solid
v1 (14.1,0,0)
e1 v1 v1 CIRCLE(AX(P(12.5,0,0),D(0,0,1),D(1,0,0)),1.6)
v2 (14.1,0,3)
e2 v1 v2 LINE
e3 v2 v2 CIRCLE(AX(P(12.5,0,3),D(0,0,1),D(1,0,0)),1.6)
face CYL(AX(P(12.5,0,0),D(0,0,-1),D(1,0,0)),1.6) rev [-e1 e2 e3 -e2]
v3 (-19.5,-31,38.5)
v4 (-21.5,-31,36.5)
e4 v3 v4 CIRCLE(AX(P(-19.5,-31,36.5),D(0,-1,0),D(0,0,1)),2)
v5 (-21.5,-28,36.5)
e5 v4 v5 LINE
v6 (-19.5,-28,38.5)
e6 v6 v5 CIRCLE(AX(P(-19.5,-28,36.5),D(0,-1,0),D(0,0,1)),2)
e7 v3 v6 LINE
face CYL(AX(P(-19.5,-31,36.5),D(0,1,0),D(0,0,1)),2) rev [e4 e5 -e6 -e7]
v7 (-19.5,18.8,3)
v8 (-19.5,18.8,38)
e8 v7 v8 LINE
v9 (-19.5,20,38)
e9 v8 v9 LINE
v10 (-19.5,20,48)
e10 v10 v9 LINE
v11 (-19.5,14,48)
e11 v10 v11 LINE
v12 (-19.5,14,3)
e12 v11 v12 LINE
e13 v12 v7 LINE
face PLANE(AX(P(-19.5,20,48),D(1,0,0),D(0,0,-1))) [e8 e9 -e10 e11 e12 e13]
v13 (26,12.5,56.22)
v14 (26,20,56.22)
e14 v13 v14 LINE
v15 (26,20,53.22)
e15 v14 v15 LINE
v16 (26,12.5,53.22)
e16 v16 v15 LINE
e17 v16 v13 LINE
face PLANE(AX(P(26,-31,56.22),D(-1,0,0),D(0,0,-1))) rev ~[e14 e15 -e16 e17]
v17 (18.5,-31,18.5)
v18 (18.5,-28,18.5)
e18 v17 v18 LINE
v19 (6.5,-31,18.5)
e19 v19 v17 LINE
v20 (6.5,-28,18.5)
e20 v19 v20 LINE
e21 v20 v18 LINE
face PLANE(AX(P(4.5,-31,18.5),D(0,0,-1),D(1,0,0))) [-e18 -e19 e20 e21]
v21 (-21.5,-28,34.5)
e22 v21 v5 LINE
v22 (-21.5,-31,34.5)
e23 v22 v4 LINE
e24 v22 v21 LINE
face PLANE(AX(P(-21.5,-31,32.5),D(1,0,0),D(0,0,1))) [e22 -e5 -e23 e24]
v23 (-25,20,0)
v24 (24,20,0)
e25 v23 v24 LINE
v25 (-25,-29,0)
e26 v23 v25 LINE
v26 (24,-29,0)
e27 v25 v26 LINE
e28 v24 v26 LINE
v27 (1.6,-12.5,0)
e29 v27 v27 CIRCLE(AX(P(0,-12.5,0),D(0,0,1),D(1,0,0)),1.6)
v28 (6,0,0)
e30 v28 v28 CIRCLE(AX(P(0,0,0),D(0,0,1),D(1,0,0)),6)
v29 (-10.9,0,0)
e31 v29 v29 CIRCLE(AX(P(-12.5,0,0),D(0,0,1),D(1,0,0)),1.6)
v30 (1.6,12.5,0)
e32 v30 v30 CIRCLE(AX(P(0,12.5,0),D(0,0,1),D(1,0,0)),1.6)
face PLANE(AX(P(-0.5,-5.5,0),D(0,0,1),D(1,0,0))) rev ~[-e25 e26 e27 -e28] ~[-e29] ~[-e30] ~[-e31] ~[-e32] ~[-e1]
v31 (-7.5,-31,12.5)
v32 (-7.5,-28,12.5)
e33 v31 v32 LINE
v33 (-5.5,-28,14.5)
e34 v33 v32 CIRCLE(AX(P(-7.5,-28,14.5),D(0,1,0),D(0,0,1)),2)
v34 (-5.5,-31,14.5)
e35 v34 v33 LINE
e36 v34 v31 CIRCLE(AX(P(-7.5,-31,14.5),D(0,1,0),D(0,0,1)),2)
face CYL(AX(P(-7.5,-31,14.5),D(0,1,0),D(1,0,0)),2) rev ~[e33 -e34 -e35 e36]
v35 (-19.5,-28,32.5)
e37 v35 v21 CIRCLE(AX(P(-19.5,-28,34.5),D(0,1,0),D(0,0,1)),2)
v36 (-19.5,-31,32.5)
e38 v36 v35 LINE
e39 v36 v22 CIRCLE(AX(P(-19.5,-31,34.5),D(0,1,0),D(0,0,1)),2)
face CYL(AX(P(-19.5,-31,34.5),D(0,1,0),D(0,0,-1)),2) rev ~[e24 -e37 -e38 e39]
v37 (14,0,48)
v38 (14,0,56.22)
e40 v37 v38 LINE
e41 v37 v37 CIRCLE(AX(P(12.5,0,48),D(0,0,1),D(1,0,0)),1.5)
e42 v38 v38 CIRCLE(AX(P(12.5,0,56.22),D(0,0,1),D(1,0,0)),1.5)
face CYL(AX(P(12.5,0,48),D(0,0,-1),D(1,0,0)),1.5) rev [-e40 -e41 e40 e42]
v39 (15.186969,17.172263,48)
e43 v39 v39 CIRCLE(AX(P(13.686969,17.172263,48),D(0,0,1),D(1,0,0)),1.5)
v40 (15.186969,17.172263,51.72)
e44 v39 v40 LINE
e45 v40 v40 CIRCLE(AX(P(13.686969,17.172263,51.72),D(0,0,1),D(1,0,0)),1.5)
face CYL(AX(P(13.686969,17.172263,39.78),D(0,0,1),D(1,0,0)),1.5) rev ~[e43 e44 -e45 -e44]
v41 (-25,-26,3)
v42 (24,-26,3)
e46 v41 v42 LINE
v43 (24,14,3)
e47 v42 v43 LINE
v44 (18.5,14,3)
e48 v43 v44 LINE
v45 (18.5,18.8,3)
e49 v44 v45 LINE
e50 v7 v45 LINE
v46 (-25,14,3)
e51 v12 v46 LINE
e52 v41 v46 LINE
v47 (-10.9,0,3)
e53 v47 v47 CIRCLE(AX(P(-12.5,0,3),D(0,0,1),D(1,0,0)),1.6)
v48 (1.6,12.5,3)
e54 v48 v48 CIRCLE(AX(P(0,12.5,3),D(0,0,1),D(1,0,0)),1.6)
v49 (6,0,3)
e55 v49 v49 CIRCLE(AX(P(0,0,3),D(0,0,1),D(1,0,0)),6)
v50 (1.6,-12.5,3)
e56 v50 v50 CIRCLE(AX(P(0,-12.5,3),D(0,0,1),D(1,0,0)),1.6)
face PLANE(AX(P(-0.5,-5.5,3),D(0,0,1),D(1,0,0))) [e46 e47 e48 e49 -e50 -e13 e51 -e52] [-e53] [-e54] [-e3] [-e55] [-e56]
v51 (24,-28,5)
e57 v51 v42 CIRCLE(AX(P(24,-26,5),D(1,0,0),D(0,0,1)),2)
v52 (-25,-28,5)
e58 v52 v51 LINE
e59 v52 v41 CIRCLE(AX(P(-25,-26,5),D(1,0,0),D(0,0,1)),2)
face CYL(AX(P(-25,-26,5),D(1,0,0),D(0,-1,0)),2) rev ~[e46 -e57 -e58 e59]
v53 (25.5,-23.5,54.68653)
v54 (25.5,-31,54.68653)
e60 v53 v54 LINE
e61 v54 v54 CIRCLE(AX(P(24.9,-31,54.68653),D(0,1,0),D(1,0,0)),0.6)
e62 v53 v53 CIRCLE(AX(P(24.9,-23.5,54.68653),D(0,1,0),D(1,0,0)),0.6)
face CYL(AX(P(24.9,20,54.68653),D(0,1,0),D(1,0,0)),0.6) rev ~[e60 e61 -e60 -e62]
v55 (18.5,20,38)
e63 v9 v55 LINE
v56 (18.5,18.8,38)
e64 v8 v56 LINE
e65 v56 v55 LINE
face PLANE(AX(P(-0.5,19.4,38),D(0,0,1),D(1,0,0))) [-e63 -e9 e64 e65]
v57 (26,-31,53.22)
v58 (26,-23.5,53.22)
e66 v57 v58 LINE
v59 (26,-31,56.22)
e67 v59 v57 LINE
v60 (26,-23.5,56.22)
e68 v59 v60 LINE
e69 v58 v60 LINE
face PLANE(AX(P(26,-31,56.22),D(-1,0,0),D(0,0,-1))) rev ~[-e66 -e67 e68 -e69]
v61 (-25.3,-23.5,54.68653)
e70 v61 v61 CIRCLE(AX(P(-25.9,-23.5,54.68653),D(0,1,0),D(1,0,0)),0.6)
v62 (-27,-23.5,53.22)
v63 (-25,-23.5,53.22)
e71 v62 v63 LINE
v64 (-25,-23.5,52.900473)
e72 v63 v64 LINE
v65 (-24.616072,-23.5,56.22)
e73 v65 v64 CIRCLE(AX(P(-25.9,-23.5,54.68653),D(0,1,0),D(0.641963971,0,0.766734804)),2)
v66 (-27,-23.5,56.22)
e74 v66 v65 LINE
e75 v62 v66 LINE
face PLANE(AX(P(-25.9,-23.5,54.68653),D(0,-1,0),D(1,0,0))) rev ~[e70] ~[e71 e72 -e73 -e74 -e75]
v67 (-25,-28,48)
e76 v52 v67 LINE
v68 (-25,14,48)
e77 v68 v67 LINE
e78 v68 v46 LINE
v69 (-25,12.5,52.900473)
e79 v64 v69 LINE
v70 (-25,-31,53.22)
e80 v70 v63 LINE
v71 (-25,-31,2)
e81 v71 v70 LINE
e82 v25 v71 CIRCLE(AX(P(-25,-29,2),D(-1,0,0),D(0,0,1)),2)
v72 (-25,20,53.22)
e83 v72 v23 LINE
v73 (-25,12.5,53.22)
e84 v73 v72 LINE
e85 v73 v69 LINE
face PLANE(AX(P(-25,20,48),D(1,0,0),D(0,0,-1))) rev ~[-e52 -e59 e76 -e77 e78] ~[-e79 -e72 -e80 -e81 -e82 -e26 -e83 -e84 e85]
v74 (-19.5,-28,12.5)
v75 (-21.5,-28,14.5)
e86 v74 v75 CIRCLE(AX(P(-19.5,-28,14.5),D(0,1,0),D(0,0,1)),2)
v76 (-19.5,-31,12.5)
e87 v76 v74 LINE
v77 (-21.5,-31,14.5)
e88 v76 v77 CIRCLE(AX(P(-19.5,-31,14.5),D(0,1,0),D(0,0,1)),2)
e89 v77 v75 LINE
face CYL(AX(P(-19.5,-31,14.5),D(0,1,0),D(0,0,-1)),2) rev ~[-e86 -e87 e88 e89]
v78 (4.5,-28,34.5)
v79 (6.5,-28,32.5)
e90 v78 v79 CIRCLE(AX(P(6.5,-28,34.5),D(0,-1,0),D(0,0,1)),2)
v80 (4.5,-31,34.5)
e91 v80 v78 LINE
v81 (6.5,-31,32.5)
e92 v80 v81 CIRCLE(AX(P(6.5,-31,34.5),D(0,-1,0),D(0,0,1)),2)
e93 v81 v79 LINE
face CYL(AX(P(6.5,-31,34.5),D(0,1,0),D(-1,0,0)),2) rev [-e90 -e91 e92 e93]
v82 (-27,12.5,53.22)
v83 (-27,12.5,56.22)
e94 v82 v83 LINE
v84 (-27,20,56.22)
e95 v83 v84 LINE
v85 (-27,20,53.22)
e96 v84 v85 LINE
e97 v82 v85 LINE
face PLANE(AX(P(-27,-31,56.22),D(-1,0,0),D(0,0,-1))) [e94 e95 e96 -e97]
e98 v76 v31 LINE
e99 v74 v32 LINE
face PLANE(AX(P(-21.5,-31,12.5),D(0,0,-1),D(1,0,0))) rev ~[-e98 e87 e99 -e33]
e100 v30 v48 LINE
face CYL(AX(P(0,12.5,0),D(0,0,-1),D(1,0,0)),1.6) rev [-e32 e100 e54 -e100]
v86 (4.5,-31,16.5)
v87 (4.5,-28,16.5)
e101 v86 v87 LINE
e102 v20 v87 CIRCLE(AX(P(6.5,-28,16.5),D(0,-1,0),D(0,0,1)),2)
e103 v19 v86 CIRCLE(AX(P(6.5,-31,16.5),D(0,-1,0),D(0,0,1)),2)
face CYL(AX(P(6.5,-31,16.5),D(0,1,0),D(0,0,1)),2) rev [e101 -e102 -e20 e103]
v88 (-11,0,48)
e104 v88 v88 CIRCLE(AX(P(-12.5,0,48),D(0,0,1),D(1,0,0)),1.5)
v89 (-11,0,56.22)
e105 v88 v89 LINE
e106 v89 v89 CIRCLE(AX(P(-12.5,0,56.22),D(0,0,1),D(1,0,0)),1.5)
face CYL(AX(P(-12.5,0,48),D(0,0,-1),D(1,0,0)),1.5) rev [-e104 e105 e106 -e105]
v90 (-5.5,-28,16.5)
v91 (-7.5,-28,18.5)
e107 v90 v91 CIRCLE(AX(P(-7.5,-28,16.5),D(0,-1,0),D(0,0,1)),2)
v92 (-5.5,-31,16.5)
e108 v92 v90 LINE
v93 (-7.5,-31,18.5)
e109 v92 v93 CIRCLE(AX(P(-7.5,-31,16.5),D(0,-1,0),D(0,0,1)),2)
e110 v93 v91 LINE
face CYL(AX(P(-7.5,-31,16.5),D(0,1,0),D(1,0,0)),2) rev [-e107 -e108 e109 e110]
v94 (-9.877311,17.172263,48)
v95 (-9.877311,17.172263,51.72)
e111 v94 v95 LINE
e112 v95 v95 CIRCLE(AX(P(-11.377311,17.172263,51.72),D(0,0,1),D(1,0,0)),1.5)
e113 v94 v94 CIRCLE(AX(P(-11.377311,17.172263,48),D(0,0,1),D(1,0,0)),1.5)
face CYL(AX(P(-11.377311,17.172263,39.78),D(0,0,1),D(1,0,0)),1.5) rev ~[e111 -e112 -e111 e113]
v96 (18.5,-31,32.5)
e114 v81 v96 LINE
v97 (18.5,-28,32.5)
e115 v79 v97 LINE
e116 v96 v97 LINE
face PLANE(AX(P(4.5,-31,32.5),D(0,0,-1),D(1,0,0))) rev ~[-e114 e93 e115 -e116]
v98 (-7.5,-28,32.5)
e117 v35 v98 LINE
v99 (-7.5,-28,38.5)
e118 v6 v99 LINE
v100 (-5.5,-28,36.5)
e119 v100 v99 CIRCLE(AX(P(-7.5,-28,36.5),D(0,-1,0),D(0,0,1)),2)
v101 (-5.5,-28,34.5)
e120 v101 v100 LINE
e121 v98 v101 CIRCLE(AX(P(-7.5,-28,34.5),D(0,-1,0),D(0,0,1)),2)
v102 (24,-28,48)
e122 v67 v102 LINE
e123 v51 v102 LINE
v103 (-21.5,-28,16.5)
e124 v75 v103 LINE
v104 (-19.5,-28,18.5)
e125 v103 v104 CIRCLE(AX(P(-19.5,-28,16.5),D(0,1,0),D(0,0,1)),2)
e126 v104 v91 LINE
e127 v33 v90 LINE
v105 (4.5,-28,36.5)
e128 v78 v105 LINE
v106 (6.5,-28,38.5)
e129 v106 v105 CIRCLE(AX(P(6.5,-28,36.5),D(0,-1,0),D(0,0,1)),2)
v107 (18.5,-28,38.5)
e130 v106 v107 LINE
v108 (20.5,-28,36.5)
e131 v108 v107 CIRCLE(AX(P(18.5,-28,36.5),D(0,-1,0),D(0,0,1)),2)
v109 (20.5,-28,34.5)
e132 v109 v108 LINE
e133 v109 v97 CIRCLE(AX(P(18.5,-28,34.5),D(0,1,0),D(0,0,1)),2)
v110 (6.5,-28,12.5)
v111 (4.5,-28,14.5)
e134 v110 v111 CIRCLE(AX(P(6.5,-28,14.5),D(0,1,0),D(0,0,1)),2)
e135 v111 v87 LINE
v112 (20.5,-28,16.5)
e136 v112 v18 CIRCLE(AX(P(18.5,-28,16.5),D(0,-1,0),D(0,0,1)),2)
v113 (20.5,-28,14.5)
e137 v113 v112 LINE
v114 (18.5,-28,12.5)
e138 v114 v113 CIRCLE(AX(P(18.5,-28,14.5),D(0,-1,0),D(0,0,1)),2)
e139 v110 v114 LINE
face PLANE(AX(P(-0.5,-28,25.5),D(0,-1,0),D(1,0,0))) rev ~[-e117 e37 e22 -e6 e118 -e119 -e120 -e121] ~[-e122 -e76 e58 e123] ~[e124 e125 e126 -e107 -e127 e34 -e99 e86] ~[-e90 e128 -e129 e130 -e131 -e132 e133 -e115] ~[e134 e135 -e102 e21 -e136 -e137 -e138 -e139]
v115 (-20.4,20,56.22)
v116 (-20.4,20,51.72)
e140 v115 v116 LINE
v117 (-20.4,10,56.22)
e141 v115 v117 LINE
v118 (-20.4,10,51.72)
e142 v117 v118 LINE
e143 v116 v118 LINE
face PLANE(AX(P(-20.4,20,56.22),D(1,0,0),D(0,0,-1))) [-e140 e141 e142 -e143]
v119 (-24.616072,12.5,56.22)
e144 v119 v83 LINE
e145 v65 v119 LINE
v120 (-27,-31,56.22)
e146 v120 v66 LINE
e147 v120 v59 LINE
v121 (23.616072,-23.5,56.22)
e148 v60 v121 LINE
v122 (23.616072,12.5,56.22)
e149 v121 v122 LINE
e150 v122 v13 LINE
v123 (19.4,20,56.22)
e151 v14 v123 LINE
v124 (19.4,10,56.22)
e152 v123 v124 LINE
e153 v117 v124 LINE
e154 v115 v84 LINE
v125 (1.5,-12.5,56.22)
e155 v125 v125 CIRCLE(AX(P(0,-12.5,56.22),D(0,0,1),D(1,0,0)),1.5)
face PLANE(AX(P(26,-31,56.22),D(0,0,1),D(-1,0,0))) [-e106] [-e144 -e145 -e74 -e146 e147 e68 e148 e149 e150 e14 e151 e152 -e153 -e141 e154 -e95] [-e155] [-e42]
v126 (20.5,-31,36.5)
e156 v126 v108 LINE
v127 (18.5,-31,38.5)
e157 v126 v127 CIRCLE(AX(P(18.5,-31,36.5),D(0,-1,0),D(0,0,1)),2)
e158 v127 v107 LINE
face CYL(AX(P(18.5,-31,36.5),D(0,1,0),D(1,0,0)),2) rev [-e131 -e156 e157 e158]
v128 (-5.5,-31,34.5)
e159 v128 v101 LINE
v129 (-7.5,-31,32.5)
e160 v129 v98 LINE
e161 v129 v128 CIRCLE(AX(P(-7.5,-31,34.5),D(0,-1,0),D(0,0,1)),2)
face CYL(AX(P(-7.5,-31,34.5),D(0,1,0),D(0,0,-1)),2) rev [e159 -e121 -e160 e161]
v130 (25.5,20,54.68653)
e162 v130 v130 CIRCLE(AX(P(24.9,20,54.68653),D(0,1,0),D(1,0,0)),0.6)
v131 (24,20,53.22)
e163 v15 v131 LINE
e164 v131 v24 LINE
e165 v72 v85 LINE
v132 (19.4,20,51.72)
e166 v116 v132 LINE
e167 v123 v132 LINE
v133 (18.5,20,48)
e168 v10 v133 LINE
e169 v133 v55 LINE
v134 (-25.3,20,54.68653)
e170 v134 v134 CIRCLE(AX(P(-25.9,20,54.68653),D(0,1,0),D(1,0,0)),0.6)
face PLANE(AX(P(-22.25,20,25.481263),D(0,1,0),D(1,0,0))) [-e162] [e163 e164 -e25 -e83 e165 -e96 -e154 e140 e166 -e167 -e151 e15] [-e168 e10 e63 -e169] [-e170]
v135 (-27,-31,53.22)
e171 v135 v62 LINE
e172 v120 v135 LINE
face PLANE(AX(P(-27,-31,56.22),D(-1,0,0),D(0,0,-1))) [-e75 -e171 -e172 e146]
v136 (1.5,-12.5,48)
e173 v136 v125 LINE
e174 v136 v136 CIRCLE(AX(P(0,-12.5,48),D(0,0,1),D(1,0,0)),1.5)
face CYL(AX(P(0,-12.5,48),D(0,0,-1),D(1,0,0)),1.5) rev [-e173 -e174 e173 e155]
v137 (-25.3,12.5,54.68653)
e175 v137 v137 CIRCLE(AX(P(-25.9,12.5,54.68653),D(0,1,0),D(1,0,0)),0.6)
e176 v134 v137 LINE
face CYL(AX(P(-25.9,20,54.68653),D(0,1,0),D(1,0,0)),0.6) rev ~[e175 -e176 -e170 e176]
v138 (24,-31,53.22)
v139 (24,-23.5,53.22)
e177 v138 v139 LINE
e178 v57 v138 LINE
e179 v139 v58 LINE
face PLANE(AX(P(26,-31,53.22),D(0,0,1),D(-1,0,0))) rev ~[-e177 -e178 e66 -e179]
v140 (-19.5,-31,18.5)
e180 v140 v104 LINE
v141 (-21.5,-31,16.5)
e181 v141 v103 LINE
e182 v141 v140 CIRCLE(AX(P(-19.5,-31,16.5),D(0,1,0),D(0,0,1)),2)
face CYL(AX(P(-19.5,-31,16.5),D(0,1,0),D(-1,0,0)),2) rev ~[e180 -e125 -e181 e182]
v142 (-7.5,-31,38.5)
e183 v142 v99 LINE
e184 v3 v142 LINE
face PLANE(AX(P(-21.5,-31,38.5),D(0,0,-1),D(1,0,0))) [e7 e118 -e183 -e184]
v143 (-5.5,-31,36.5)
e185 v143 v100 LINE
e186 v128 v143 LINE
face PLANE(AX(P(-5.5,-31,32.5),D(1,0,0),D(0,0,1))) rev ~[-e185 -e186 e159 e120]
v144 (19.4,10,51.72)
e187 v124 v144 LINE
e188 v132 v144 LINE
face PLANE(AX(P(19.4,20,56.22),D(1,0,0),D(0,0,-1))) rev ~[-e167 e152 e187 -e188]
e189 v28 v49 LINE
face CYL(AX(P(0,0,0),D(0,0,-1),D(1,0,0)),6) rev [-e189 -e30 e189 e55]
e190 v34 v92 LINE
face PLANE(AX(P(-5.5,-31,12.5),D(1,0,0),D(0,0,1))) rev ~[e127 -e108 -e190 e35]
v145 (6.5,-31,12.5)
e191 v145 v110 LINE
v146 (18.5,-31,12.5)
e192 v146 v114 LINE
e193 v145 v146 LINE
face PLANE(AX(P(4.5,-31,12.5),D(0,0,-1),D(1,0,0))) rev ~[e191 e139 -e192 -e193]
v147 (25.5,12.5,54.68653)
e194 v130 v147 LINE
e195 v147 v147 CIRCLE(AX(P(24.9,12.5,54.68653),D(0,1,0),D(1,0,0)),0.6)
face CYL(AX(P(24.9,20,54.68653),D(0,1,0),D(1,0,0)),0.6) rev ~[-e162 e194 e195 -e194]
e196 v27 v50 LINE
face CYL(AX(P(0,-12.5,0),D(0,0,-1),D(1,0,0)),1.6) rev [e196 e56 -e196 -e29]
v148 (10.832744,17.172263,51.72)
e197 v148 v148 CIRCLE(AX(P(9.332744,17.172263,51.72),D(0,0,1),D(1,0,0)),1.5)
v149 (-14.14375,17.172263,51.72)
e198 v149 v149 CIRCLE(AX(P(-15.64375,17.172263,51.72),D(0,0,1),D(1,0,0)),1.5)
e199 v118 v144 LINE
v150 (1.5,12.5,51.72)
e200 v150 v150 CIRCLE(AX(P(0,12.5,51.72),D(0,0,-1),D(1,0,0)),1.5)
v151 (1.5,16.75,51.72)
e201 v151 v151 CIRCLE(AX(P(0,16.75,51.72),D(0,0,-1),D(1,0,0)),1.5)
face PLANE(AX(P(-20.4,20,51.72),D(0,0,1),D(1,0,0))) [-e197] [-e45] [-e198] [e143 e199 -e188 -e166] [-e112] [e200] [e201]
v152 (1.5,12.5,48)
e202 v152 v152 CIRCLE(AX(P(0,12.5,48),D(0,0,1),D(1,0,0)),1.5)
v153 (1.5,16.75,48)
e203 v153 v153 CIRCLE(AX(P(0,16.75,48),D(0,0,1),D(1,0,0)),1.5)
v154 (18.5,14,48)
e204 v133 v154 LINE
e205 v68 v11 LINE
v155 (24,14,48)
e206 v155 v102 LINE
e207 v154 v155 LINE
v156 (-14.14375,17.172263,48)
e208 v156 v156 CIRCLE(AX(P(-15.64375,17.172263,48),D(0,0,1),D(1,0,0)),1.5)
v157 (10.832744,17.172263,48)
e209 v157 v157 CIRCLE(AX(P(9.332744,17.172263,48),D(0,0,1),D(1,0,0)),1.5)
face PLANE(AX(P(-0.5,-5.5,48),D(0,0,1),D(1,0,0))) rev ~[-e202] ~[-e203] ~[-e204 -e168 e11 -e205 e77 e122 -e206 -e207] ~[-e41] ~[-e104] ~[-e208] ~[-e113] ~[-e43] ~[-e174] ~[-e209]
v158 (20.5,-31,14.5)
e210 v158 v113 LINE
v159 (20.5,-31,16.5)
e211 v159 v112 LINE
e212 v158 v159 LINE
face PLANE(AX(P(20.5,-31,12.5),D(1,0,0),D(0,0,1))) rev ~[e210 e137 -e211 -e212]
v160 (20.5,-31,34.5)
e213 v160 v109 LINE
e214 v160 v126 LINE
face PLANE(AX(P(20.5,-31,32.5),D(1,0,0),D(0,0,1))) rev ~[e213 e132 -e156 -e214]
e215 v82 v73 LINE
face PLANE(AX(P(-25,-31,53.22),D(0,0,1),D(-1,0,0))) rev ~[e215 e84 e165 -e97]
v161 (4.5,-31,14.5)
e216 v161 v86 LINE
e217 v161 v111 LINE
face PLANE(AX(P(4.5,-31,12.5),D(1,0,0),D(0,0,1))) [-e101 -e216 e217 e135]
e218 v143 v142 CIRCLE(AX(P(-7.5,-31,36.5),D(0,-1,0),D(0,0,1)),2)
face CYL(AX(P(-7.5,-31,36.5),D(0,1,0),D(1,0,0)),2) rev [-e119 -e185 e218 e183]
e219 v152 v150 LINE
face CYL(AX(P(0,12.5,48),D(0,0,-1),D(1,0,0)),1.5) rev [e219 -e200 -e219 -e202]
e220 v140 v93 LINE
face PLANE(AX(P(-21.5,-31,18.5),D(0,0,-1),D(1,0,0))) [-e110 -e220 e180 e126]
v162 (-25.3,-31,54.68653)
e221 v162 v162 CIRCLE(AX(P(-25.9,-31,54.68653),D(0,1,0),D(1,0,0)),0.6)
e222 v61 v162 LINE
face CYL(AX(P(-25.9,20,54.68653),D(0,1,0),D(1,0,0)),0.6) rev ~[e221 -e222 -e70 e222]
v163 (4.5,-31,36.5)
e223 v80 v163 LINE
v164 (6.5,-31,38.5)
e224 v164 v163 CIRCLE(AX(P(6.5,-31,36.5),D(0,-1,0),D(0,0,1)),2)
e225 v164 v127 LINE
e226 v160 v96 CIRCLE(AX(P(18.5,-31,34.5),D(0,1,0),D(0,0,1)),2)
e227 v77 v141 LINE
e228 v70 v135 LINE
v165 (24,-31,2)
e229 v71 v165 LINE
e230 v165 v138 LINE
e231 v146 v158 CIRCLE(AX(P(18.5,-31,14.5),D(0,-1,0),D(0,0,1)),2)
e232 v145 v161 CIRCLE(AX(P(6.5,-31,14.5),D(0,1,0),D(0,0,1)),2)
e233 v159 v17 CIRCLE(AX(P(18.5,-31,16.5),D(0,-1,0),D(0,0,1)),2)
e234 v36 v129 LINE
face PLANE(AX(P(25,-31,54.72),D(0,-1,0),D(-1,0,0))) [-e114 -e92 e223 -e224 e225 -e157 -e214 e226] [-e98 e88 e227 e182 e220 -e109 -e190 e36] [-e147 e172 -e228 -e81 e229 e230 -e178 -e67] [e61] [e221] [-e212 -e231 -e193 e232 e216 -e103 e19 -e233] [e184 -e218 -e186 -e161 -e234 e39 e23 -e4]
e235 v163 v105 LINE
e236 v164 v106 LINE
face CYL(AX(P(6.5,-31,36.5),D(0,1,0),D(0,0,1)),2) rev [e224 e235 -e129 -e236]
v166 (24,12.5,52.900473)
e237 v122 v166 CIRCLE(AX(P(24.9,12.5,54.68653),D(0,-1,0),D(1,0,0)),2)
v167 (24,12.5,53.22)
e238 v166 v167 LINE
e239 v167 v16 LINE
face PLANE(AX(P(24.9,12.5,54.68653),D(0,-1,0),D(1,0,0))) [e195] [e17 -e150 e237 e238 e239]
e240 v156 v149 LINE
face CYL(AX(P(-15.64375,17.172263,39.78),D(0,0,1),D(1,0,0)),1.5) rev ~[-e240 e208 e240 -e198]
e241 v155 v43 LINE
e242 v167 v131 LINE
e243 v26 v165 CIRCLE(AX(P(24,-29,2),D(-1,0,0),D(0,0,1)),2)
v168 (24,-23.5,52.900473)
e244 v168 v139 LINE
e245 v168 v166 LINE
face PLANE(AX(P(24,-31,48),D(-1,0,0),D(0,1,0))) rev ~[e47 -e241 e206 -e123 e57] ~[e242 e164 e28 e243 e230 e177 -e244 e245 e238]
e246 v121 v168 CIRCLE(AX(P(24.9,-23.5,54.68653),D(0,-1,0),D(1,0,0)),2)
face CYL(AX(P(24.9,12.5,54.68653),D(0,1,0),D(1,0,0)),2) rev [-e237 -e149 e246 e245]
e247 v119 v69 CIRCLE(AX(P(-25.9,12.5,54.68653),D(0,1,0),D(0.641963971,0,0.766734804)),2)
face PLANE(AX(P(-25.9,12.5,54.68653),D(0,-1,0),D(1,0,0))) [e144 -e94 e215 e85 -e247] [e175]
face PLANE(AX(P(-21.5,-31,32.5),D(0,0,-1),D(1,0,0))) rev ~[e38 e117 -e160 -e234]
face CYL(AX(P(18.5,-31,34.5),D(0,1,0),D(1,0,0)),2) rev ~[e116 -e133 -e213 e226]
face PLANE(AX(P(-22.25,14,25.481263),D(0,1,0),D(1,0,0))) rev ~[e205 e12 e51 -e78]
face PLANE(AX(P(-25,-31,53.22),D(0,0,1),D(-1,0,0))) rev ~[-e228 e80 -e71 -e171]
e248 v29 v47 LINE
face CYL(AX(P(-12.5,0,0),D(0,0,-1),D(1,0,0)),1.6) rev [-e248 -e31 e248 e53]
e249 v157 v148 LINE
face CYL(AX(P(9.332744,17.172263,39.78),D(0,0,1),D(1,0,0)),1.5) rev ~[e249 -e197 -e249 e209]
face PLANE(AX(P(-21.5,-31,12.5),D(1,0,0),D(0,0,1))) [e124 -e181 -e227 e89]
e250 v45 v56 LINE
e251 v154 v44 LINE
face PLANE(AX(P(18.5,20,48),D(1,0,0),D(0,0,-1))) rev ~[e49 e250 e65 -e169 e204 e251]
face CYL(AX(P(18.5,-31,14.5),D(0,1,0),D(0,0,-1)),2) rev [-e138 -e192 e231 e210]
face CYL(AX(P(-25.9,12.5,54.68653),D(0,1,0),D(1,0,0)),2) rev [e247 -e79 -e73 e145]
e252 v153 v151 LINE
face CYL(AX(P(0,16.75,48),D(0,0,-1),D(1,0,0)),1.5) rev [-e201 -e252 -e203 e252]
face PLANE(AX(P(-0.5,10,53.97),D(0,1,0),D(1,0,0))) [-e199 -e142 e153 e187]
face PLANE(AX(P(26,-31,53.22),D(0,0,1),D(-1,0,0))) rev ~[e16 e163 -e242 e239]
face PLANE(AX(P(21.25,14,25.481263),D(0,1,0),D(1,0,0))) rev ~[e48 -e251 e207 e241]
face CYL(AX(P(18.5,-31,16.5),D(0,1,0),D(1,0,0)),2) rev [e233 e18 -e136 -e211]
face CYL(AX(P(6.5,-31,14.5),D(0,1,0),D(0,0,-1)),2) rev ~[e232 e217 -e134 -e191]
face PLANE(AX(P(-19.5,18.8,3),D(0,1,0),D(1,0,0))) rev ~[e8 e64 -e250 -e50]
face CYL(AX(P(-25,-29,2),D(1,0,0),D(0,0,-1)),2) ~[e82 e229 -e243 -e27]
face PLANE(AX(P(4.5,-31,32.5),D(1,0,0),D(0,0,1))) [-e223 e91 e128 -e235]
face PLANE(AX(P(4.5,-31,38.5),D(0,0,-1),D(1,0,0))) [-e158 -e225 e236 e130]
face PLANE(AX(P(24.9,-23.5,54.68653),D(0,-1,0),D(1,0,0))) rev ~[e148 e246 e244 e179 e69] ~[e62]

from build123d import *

# Parameters (mm, degrees)
SKETCH_1_W          = 49
SKETCH_1_H          = 51
SKETCH_1_R          = 6
SKETCH_1_R_2        = 1.6
EXTRUDE_1_DEPTH     = 3
SKETCH_2_W          = 49
SKETCH_2_H          = 45
SKETCH_2_W_2        = 16
SKETCH_2_H_2        = 6
EXTRUDE_2_DEPTH     = 3
SKETCH_3_W          = 49
SKETCH_3_H          = 51
SKETCH_3_R          = 1.5
EXTRUDE_3_DEPTH     = 8.22
FILLET_2_R          = 2
FILLET_3_R          = 2
FILLET_4_R          = 2
FILLET_5_R          = 2
FILLET_6_R          = 2
SKETCH_4_W          = 2
SKETCH_4_H          = 3
EXTRUDE_4_DEPTH     = 51
SKETCH_5_W          = 5.5
SKETCH_5_H          = 45.037473363
EXTRUDE_5_DEPTH     = 6
MM_3_D              = 3
MM_3_DEPTH          = 8.22
SKETCH_12_W         = 39.8
SKETCH_12_H         = 4.5
CUT_EXTRUDE_6_DEPTH = 10
SKETCH_13_W         = 2
SKETCH_13_H         = 36
CUT_EXTRUDE_7_DEPTH = 57.22
SKETCH_14_R         = 0.6
CUT_EXTRUDE_8_DEPTH = 52
SKETCH_15_R         = 2
CUT_EXTRUDE_9_DEPTH = 36
SKETCH_16_W         = 38
SKETCH_16_H         = 1.2
EXTRUDE_6_DEPTH     = 35


with BuildPart() as part:
    # 草图1 → 凸台-拉伸1 (new body)
    with BuildSketch(Plane.XY):
        with Locations((-0.5, -5.5)):
            Rectangle(SKETCH_1_W, SKETCH_1_H)
        Circle(SKETCH_1_R, mode=Mode.SUBTRACT)
        with Locations((12.5, 0)):
            Circle(SKETCH_1_R_2, mode=Mode.SUBTRACT)
        with Locations((-12.5, 0)):
            Circle(SKETCH_1_R_2, mode=Mode.SUBTRACT)
        with Locations((0, 12.5)):
            Circle(SKETCH_1_R_2, mode=Mode.SUBTRACT)
        with Locations((0, -12.5)):
            Circle(SKETCH_1_R_2, mode=Mode.SUBTRACT)
    extrude(amount=EXTRUDE_1_DEPTH)

    # 草图2 → 凸台-拉伸2 (add)
    with BuildSketch(Plane.XZ.offset(31)):
        with Locations((-0.5, 25.5)):
            Rectangle(SKETCH_2_W, SKETCH_2_H)
        with Locations((-13.5, 15.5)):
            Rectangle(SKETCH_2_W_2, SKETCH_2_H_2, mode=Mode.SUBTRACT)
        with Locations((12.5, 15.5)):
            Rectangle(SKETCH_2_W_2, SKETCH_2_H_2, mode=Mode.SUBTRACT)
        with Locations((-13.5, 35.5)):
            Rectangle(SKETCH_2_W_2, SKETCH_2_H_2, mode=Mode.SUBTRACT)
        with Locations((12.5, 35.5)):
            Rectangle(SKETCH_2_W_2, SKETCH_2_H_2, mode=Mode.SUBTRACT)
    extrude(amount=-EXTRUDE_2_DEPTH)

    # 草图3 → 凸台-拉伸3 (add)
    with BuildSketch(Plane.XY.offset(48)):
        with Locations((-0.5, -5.5)):
            Rectangle(SKETCH_3_W, SKETCH_3_H)
        with Locations((-12.5, 0)):
            Circle(SKETCH_3_R, mode=Mode.SUBTRACT)
        with Locations((12.5, 0)):
            Circle(SKETCH_3_R, mode=Mode.SUBTRACT)
        with Locations((0, -12.5)):
            Circle(SKETCH_3_R, mode=Mode.SUBTRACT)
        with Locations((0, 12.5)):
            Circle(SKETCH_3_R, mode=Mode.SUBTRACT)
        with Locations((0, 16.75)):
            Circle(SKETCH_3_R, mode=Mode.SUBTRACT)
    extrude(amount=EXTRUDE_3_DEPTH)

    # 圆角2
    fillet_2_edges = [part.edges().sort_by_distance(p)[0] for p in [
        (-5.5, -29.5, 12.5),
    ]]
    fillet(fillet_2_edges, radius=FILLET_2_R)

    # 圆角3
    fillet_3_edges = [part.edges().sort_by_distance(p)[0] for p in [
        (-21.5, -29.5, 12.5),
        (-21.5, -29.5, 18.5),
        (-5.5, -29.5, 18.5),
    ]]
    fillet(fillet_3_edges, radius=FILLET_3_R)

    # 圆角4
    fillet_4_edges = [part.edges().sort_by_distance(p)[0] for p in [
        (20.5, -29.5, 18.5),
        (20.5, -29.5, 12.5),
        (4.5, -29.5, 12.5),
        (4.5, -29.5, 18.5),
        (-21.5, -29.5, 32.5),
        (-21.5, -29.5, 38.5),
        (-5.5, -29.5, 38.5),
        (-5.5, -29.5, 32.5),
        (4.5, -29.5, 32.5),
        (4.5, -29.5, 38.5),
        (20.5, -29.5, 38.5),
        (20.5, -29.5, 32.5),
    ]]
    fillet(fillet_4_edges, radius=FILLET_4_R)

    # 圆角5
    fillet_5_edges = [part.edges().sort_by_distance(p)[0] for p in [
        (-0.5, -28, 3),
    ]]
    fillet(fillet_5_edges, radius=FILLET_5_R)

    # 圆角6
    fillet_6_edges = [part.edges().sort_by_distance(p)[0] for p in [
        (-0.5, -31, 0),
    ]]
    fillet(fillet_6_edges, radius=FILLET_6_R)

    # 草图4 → 凸台-拉伸4 (add)
    with BuildSketch(Plane(origin=(0, -31, 0), x_dir=(-1, 0, 0), z_dir=(0, -1, 0))):
        with Locations((-25, -54.72)):
            Rectangle(SKETCH_4_W, SKETCH_4_H)
        with Locations((26, -54.72)):
            Rectangle(SKETCH_4_W, SKETCH_4_H)
    extrude(amount=-EXTRUDE_4_DEPTH)

    # 草图5 → 凸台-拉伸5 (add)
    with BuildSketch(Plane(origin=(0, 20, 0), x_dir=(1, 0, 0), z_dir=(0, 1, 0))):
        with Locations((-22.25, -25.481263319)):
            Rectangle(SKETCH_5_W, SKETCH_5_H)
        with Locations((21.25, -25.481263319)):
            Rectangle(SKETCH_5_W, SKETCH_5_H)
    extrude(amount=-EXTRUDE_5_DEPTH)

    # 大小mm 暗销孔3
    with Locations(Plane(origin=(0, 0, 48), x_dir=(-1, 0, 0), z_dir=(0, 0, -1))):
        with Locations((15.643749591, 17.172263121), (11.37731054, 17.172263121), (-13.686969003, 17.172263121), (-9.332744424, 17.172263121)):
            Hole(MM_3_D / 2, depth=MM_3_DEPTH)

    # 草图12 → 切除-拉伸6 (cut)
    with BuildSketch(Plane(origin=(0, 20, 0), x_dir=(1, 0, 0), z_dir=(0, 1, 0))):
        with Locations((-0.5, -53.97)):
            Rectangle(SKETCH_12_W, SKETCH_12_H)
    extrude(amount=-CUT_EXTRUDE_6_DEPTH, mode=Mode.SUBTRACT)

    # 草图13 → 切除-拉伸7 (cut, through all)
    with BuildSketch(Plane(origin=(0, 0, 0), x_dir=(-1, 0, 0), z_dir=(0, 0, -1))):
        with Locations((-25, -5.5)):
            Rectangle(SKETCH_13_W, SKETCH_13_H)
        with Locations((26, -5.5)):
            Rectangle(SKETCH_13_W, SKETCH_13_H)
    extrude(amount=-CUT_EXTRUDE_7_DEPTH, mode=Mode.SUBTRACT)

    # 草图14 → 切除-拉伸8 (cut, through all)
    with BuildSketch(Plane(origin=(0, 20, 0), x_dir=(1, 0, 0), z_dir=(0, 1, 0))):
        with Locations((24.9, -54.686530392)):
            Circle(SKETCH_14_R)
        with Locations((-25.9, -54.686530392)):
            Circle(SKETCH_14_R)
    extrude(amount=-CUT_EXTRUDE_8_DEPTH, mode=Mode.SUBTRACT)

    # 草图15 → 切除-拉伸9 (cut)
    with BuildSketch(Plane.XZ.offset(-12.5)):
        with Locations((24.9, 54.686530392)):
            Circle(SKETCH_15_R)
        with Locations((-25.9, 54.686530392)):
            Circle(SKETCH_15_R)
    extrude(amount=CUT_EXTRUDE_9_DEPTH, mode=Mode.SUBTRACT)

    # 草图16 → 凸台-拉伸6 (add)
    with BuildSketch(Plane.XY.offset(3)):
        with Locations((-0.5, 19.4)):
            Rectangle(SKETCH_16_W, SKETCH_16_H)
    extrude(amount=EXTRUDE_6_DEPTH)


solid = part.part
